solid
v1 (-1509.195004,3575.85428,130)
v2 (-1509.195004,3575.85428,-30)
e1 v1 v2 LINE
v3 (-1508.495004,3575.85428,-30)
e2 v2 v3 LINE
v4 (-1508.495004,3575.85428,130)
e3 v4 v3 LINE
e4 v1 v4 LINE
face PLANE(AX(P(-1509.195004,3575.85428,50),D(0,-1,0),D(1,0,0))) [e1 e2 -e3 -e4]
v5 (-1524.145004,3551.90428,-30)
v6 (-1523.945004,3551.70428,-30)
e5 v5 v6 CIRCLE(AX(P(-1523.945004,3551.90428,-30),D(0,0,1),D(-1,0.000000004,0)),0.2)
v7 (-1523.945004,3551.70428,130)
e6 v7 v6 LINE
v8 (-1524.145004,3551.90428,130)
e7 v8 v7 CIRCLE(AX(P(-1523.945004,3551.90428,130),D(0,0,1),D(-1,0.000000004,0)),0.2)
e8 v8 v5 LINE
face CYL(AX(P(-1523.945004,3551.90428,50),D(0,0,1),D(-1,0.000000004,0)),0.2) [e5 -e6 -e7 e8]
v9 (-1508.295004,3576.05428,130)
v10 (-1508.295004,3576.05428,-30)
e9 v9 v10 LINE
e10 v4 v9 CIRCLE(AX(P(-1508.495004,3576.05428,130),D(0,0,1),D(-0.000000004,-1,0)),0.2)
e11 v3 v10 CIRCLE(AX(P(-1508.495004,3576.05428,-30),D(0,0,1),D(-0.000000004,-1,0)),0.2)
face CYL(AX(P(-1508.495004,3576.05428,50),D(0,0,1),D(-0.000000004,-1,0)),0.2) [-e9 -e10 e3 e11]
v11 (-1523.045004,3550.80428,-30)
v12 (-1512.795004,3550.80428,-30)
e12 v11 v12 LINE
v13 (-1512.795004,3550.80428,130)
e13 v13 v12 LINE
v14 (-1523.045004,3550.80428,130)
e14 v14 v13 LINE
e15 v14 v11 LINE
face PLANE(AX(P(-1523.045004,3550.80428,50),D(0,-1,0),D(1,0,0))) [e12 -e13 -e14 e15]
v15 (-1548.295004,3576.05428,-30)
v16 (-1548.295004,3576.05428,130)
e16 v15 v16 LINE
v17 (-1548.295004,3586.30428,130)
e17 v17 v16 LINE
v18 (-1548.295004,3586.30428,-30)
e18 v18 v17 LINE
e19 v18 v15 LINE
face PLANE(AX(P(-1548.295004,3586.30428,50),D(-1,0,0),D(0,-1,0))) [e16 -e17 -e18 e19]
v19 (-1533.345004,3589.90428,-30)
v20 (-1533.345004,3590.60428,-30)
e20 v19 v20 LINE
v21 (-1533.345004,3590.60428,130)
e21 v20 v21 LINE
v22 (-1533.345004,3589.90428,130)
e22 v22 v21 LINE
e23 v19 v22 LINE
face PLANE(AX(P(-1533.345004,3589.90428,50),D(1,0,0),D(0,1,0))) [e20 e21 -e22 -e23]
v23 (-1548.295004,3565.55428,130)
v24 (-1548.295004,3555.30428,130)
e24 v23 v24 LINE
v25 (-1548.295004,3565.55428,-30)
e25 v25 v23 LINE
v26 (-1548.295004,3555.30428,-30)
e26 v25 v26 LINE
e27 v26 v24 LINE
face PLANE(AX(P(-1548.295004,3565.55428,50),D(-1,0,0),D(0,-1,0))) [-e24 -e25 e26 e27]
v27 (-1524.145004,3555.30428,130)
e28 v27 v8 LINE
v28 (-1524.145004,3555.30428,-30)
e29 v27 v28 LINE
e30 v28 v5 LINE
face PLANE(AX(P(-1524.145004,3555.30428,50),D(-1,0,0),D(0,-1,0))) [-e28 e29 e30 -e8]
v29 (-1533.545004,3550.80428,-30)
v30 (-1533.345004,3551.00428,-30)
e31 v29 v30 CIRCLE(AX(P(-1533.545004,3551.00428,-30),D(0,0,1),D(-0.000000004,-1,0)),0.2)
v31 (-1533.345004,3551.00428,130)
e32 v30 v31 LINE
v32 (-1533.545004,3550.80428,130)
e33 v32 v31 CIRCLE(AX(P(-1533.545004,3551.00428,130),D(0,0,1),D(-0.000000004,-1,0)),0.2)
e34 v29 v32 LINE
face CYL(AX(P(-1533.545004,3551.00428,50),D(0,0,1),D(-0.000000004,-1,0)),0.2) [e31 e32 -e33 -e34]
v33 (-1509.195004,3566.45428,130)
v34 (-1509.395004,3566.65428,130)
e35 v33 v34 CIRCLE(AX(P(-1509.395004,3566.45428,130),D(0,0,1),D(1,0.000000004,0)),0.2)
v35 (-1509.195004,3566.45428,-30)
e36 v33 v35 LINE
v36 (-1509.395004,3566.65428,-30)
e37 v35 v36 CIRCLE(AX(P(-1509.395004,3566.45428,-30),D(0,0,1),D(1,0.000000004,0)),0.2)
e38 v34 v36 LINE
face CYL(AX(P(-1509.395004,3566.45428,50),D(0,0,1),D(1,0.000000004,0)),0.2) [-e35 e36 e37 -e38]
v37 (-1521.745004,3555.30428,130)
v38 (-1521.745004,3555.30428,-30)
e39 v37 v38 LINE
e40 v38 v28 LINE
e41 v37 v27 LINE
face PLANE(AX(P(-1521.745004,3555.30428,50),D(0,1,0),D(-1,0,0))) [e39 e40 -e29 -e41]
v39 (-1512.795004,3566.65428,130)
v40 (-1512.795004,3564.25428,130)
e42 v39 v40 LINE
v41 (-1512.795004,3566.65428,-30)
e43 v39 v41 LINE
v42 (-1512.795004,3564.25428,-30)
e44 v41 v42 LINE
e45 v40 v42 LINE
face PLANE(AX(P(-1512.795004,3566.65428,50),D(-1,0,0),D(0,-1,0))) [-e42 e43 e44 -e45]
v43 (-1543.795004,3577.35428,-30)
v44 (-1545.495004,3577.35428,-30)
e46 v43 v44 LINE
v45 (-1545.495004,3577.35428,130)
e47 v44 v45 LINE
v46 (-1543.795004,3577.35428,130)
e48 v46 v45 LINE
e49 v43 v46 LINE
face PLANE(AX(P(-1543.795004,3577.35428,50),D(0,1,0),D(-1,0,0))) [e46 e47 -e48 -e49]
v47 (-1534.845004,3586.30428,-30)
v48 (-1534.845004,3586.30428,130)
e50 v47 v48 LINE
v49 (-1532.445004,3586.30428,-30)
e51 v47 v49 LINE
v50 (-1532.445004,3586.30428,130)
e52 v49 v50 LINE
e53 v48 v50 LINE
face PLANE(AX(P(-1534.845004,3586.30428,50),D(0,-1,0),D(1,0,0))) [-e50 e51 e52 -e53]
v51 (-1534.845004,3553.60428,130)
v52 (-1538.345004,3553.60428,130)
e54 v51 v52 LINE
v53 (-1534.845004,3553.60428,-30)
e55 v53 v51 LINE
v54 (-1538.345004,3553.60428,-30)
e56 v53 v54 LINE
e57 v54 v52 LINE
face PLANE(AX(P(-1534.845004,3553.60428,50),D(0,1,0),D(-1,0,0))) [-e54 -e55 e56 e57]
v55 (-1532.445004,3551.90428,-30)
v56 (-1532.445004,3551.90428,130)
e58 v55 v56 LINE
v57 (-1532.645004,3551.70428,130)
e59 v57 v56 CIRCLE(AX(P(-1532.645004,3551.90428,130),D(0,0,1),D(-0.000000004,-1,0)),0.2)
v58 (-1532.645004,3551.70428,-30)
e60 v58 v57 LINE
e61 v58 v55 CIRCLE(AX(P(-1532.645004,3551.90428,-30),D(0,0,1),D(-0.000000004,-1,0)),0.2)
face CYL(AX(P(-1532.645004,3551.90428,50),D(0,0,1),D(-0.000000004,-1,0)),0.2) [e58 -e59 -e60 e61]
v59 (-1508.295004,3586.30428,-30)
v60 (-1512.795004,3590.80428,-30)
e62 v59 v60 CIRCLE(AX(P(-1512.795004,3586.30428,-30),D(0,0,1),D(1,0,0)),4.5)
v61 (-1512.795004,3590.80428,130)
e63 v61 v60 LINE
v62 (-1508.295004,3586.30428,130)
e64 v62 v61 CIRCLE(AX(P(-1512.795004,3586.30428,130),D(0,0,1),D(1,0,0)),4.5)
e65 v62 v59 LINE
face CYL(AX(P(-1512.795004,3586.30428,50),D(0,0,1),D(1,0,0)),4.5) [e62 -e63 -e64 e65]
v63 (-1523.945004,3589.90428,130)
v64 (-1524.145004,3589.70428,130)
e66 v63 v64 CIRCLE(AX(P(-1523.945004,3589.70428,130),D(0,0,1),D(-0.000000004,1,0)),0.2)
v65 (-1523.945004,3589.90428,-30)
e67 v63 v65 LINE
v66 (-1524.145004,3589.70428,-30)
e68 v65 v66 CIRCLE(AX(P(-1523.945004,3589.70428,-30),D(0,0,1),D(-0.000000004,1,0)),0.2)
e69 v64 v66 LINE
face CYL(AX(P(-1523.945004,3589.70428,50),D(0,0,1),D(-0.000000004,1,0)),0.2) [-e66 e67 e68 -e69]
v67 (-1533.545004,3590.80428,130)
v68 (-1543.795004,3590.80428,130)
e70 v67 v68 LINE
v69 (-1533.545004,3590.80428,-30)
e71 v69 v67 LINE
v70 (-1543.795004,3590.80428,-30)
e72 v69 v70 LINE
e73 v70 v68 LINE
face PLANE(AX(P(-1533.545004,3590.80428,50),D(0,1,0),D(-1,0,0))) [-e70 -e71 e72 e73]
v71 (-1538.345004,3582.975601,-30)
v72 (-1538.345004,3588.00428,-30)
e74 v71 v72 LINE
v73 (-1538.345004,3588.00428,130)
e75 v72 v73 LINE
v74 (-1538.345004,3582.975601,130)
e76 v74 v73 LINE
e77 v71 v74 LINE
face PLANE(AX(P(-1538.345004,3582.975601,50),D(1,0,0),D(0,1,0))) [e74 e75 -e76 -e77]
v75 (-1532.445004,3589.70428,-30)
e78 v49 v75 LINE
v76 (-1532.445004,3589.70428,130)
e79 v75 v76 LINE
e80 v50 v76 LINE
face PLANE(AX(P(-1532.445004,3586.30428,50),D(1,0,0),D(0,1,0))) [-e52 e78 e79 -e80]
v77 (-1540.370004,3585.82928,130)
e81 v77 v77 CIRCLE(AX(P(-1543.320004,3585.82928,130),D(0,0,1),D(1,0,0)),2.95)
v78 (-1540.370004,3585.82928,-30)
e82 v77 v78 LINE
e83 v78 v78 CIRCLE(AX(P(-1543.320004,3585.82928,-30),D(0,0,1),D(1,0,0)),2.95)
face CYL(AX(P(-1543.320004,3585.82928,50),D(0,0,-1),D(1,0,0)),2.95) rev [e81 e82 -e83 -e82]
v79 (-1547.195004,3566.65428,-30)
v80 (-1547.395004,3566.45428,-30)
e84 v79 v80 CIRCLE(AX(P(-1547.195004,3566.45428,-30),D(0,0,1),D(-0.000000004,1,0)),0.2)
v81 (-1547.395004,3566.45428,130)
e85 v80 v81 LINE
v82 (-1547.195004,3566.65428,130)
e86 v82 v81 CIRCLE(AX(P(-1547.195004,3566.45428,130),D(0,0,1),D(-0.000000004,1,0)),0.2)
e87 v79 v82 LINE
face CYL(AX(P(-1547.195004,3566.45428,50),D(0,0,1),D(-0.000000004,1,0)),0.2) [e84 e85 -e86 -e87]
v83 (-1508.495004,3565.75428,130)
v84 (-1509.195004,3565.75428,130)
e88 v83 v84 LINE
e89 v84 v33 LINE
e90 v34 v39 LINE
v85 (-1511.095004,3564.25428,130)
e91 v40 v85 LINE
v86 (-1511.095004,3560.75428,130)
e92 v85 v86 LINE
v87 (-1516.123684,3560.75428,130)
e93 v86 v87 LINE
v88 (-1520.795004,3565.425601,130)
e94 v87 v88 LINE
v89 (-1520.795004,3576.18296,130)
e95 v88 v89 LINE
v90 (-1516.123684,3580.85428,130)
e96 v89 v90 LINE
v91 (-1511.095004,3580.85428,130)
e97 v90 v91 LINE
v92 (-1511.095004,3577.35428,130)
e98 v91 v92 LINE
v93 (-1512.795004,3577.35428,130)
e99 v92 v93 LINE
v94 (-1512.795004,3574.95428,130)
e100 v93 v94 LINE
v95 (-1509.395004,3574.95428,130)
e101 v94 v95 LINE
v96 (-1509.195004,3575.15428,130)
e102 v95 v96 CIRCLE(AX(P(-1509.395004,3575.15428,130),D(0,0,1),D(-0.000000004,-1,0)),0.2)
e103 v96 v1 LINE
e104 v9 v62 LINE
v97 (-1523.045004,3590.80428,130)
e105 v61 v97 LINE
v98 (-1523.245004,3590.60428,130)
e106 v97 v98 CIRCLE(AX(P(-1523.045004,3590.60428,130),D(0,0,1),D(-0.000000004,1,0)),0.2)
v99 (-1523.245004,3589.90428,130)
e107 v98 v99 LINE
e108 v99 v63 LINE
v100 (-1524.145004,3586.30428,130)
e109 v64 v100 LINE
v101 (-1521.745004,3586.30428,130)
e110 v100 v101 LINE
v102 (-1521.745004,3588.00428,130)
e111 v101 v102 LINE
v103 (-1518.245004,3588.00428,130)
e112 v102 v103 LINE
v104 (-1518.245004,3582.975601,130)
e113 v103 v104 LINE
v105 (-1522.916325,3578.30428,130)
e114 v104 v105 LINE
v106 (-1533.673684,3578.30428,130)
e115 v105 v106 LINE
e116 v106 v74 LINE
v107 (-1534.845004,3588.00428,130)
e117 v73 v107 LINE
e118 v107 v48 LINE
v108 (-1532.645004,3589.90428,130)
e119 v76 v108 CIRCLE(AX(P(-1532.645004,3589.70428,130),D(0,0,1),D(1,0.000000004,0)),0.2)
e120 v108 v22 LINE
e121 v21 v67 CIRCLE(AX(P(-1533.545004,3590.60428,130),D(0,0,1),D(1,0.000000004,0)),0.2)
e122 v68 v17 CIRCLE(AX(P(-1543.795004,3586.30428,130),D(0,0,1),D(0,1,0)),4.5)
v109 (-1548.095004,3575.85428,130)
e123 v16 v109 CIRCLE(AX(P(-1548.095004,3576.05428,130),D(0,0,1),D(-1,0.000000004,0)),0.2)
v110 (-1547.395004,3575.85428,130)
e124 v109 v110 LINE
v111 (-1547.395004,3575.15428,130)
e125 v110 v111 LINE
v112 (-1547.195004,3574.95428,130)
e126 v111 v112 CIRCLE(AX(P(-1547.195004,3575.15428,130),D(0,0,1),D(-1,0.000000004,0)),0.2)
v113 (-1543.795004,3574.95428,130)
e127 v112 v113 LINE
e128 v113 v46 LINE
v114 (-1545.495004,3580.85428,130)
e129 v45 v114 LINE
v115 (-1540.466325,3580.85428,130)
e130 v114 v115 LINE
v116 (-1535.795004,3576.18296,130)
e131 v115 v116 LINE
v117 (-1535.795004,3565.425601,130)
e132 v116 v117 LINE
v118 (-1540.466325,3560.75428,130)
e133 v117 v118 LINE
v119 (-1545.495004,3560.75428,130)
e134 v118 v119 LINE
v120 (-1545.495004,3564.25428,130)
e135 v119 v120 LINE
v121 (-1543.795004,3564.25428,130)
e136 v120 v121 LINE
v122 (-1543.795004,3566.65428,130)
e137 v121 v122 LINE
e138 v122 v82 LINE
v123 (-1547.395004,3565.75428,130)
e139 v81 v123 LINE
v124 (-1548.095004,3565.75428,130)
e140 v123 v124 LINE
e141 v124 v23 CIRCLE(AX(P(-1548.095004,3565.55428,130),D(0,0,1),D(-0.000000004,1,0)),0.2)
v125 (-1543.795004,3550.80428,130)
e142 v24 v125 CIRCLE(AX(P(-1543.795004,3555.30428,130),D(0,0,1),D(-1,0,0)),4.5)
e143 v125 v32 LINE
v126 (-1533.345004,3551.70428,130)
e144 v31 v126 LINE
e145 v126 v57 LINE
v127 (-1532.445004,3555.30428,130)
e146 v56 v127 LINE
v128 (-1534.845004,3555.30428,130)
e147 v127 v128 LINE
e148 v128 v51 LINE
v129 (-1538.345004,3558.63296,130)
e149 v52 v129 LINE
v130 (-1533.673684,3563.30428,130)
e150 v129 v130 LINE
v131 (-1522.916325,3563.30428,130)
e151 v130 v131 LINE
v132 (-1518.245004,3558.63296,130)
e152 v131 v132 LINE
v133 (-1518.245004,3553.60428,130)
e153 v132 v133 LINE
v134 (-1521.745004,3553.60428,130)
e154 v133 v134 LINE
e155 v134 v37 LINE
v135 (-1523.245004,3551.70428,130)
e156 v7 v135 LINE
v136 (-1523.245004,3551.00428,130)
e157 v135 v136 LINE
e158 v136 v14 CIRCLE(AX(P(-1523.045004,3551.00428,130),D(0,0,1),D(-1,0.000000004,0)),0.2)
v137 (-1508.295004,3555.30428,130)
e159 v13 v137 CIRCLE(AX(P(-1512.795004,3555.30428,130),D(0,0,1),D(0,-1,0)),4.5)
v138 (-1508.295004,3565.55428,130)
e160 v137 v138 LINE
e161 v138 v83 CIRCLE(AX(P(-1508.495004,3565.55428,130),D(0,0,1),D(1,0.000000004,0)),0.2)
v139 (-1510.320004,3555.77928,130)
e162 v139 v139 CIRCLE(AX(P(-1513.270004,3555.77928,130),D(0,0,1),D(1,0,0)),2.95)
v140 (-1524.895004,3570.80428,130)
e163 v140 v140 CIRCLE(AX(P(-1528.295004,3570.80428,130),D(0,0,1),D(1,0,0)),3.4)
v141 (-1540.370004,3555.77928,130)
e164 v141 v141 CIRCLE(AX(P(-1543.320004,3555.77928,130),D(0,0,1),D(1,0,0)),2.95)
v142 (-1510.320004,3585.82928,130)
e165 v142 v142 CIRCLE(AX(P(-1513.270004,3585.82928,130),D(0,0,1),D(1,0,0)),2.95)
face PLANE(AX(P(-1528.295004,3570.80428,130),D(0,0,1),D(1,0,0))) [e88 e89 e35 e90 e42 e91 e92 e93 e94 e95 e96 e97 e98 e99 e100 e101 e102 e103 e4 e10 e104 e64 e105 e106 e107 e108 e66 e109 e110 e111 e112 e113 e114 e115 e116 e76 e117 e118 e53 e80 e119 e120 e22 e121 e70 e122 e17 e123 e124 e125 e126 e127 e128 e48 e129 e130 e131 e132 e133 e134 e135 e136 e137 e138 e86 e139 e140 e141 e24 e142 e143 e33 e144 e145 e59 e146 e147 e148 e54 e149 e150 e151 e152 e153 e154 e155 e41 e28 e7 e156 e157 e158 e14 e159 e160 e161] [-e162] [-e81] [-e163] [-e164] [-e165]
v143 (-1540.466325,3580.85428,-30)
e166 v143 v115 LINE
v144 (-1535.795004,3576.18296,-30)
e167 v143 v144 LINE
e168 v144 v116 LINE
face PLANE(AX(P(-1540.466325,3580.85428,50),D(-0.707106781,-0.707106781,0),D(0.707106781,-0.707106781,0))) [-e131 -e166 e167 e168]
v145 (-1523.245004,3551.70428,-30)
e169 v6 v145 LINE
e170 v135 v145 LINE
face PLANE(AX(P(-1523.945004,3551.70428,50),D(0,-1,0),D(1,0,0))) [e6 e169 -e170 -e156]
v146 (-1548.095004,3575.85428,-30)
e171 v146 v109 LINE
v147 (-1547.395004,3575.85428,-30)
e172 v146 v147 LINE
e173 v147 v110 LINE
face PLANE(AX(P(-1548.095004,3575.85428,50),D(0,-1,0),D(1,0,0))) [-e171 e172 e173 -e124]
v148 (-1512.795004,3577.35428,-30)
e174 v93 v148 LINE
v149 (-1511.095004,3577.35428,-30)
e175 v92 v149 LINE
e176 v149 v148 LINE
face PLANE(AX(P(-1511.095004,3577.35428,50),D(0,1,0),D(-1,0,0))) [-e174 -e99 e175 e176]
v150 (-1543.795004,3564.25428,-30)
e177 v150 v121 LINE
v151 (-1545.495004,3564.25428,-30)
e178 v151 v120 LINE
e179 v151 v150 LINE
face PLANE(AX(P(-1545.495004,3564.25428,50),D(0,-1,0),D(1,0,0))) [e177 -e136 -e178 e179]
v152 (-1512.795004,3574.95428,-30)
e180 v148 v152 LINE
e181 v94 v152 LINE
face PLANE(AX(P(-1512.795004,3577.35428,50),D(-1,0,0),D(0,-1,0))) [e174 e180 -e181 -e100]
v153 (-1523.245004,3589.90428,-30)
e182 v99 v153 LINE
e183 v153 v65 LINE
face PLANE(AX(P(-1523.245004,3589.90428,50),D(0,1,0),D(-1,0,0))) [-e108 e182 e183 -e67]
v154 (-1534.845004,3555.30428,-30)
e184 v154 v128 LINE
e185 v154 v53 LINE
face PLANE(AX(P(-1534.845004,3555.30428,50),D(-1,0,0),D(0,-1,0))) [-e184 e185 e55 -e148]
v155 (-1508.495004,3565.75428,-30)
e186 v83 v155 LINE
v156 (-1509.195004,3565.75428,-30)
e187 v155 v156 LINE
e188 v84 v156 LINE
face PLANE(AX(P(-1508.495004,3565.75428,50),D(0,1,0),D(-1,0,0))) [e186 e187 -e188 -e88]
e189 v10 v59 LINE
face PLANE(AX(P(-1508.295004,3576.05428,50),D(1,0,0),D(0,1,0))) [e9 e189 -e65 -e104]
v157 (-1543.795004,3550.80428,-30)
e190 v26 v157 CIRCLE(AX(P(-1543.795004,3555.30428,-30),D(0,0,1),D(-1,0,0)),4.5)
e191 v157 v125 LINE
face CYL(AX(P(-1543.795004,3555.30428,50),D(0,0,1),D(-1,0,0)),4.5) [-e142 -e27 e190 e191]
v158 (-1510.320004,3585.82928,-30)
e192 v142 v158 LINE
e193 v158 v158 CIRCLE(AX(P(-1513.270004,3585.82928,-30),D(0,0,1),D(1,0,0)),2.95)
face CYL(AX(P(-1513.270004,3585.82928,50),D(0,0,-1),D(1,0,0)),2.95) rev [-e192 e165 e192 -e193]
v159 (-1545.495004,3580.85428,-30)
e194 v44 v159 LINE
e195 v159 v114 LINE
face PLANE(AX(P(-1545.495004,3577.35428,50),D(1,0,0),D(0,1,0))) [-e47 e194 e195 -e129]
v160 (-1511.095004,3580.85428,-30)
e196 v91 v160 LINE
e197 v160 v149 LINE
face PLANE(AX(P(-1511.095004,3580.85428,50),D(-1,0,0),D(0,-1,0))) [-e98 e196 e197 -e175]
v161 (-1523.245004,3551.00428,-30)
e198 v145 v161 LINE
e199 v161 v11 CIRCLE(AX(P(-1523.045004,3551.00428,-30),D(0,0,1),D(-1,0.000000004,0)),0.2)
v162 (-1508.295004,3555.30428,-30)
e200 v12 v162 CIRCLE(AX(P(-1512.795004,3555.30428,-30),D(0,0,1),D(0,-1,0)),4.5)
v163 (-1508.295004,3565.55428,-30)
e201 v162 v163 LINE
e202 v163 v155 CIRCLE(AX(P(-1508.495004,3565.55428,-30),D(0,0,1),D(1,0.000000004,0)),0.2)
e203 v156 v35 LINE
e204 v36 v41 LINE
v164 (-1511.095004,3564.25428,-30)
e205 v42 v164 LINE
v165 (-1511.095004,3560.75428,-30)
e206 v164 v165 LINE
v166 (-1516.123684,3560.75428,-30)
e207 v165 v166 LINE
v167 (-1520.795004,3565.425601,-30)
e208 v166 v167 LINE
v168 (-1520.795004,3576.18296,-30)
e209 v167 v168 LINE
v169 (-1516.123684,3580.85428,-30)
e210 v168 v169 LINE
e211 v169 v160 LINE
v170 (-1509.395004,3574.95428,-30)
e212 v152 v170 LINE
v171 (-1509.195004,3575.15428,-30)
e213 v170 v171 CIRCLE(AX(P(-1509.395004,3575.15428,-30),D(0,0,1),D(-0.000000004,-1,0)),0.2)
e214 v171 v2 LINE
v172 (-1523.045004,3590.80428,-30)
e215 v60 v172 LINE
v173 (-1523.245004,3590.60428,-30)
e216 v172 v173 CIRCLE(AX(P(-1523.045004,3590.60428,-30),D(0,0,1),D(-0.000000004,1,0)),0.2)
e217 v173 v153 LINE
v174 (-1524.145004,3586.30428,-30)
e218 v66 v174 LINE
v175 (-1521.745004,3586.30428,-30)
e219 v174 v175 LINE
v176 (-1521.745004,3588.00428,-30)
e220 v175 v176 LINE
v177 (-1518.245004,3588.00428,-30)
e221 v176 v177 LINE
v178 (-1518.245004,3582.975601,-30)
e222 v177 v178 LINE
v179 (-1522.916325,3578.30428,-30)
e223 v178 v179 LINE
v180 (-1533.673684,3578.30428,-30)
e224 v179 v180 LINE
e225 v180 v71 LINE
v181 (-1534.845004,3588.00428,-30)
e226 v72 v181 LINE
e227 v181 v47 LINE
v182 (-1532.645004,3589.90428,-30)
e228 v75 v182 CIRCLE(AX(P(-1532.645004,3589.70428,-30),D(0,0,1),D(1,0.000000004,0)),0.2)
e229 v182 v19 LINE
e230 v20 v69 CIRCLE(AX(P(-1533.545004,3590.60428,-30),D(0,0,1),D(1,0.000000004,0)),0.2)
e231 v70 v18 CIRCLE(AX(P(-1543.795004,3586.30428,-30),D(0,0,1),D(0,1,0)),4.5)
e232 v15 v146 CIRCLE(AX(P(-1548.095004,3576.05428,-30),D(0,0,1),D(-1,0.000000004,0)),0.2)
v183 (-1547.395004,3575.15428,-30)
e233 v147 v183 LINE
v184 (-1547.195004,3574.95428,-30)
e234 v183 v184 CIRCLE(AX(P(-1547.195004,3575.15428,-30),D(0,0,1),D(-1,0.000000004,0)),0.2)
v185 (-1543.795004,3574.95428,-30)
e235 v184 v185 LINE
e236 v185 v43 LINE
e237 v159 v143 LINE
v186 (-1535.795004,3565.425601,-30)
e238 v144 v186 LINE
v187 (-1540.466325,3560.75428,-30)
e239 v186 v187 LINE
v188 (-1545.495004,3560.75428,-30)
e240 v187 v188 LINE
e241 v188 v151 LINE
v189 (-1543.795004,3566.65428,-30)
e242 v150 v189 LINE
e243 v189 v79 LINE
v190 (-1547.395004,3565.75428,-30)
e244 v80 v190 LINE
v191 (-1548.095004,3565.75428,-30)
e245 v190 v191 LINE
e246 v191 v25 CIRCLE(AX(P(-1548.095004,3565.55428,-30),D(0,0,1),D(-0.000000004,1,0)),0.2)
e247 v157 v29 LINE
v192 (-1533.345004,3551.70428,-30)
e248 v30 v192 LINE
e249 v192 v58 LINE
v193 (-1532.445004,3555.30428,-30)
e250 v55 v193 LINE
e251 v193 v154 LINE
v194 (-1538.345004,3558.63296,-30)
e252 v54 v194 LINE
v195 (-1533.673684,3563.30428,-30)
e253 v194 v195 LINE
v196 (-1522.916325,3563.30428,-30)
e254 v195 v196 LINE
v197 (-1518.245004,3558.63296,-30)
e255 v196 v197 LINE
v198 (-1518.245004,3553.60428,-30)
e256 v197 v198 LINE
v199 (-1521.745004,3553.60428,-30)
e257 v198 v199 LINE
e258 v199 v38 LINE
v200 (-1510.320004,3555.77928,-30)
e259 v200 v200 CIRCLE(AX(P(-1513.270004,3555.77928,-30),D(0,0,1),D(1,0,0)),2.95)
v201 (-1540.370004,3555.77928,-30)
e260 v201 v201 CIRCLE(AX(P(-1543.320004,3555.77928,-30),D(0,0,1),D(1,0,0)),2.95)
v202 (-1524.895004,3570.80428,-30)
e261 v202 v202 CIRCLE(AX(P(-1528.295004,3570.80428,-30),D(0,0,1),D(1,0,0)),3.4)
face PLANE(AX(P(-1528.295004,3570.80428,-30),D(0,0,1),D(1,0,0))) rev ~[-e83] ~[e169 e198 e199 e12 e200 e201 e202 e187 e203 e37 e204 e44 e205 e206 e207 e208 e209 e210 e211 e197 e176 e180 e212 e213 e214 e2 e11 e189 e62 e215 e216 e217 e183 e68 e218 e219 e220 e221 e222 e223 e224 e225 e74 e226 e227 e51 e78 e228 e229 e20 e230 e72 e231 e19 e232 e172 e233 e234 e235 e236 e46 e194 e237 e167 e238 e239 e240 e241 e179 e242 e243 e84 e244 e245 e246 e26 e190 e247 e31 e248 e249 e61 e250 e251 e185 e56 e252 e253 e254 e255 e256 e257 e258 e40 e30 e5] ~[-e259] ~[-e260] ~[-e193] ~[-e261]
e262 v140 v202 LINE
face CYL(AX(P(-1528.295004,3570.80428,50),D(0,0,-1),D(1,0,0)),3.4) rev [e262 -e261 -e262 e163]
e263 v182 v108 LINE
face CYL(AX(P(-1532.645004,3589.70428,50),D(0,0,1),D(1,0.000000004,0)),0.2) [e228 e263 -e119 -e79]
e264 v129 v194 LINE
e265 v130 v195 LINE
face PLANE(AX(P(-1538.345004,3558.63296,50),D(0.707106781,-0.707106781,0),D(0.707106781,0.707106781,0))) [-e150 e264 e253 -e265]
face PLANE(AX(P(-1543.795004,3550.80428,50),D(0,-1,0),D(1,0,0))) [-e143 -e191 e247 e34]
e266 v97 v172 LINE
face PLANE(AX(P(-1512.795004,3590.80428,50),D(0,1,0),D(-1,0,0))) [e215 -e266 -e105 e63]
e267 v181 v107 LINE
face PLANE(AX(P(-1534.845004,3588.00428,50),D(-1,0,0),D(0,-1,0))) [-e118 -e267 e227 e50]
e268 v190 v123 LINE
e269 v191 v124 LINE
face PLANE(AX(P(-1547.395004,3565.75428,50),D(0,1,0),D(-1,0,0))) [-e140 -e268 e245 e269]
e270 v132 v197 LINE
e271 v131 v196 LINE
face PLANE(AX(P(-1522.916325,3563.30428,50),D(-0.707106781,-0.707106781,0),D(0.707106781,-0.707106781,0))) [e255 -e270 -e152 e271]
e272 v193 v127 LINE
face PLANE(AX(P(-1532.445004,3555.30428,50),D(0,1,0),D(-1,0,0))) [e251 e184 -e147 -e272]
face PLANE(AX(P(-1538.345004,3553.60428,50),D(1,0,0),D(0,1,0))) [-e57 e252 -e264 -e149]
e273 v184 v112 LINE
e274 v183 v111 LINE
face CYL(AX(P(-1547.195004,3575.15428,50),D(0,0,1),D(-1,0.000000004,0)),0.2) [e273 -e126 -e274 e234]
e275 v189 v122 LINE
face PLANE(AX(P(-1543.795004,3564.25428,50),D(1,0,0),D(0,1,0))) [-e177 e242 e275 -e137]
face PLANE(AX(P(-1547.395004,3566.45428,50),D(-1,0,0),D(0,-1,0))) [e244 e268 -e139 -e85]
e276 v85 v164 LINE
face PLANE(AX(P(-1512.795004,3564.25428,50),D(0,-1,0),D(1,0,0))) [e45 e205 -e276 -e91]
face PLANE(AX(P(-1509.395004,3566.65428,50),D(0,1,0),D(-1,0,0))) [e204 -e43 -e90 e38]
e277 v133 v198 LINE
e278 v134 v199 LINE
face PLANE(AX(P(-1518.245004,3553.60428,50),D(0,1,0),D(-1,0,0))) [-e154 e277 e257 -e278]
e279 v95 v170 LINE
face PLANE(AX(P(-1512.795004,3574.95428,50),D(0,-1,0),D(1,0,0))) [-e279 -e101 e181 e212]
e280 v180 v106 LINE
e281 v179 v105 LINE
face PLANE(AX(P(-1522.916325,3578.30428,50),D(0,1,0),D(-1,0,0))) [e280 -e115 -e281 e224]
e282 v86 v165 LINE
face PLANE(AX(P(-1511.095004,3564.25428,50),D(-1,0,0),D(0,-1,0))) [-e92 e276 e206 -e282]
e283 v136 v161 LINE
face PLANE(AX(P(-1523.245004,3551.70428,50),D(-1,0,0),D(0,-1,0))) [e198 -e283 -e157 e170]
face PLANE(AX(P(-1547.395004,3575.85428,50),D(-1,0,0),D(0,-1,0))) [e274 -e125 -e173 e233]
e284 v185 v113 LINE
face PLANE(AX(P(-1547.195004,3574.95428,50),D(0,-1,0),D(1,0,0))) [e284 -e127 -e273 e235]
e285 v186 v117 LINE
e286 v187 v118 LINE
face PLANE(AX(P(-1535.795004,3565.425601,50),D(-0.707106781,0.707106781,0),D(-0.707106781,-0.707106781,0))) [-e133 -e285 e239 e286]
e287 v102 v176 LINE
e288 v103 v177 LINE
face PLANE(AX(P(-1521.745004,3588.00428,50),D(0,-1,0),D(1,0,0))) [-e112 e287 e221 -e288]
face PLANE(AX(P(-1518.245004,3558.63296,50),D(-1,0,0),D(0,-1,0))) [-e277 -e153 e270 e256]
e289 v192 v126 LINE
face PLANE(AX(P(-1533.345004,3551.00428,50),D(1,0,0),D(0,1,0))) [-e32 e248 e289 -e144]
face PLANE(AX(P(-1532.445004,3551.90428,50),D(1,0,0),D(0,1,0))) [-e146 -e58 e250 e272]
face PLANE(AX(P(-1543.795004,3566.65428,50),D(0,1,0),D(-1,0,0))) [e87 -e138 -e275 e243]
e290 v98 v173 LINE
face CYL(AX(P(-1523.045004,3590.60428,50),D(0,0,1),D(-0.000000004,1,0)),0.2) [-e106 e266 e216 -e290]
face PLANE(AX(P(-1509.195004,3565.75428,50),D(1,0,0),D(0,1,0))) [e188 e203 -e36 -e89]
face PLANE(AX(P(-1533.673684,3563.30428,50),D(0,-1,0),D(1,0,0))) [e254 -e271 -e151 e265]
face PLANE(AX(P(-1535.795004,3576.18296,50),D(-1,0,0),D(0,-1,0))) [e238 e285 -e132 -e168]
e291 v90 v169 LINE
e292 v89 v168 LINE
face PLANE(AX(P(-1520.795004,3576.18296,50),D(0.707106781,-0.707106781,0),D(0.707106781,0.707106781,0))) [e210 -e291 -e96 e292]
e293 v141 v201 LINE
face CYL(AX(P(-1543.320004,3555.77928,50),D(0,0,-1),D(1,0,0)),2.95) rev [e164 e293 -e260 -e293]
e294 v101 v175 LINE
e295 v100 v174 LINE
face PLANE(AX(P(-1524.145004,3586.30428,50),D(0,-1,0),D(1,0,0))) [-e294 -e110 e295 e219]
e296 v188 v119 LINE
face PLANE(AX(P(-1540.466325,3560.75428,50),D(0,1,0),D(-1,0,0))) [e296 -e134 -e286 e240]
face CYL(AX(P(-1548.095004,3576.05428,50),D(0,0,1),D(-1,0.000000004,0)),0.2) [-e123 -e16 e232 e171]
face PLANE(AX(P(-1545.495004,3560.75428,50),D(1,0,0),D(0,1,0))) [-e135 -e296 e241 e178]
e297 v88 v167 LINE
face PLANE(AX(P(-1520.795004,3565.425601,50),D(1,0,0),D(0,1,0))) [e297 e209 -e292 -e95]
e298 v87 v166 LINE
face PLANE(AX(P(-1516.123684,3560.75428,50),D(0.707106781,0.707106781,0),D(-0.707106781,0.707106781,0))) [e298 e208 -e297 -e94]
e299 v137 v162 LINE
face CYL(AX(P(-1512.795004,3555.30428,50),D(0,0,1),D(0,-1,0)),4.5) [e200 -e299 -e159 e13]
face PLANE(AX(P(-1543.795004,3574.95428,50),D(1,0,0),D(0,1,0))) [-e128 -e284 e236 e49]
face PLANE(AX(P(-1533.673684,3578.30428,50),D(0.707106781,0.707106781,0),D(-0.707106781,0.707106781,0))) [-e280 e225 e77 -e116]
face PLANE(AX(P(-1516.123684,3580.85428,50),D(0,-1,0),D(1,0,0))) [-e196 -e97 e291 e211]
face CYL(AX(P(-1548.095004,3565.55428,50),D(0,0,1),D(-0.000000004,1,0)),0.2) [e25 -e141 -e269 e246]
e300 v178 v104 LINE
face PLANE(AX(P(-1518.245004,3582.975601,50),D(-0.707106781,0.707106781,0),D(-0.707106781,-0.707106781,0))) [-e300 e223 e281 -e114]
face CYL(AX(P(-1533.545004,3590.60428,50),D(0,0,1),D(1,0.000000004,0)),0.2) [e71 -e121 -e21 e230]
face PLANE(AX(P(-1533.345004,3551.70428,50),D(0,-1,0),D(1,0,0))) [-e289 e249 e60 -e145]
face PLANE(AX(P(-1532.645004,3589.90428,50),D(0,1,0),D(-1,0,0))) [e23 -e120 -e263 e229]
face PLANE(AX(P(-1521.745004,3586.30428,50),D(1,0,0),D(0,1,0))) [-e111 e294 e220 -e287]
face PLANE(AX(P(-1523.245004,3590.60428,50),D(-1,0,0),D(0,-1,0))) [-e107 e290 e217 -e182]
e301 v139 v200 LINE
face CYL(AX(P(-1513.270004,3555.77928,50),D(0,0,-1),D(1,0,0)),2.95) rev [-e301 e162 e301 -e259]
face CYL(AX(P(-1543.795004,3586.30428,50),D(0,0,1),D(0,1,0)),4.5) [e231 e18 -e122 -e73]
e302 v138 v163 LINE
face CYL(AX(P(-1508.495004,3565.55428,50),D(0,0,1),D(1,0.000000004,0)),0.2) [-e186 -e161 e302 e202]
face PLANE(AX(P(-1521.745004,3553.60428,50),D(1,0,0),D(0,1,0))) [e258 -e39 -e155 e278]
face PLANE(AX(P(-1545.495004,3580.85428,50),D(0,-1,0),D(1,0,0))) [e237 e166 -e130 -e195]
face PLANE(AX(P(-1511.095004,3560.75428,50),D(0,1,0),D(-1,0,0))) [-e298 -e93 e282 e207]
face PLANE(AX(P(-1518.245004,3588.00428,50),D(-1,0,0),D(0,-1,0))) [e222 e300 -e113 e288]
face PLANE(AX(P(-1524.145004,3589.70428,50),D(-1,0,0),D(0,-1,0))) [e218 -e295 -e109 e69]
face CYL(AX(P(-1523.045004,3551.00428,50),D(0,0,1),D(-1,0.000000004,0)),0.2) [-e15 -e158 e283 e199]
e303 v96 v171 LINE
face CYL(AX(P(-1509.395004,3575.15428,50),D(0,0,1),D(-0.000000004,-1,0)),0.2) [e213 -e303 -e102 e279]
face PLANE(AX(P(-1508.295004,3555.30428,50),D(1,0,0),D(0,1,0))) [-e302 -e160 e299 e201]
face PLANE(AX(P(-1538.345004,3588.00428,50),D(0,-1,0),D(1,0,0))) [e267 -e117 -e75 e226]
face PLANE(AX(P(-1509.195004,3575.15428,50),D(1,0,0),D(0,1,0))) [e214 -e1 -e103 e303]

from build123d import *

# Parameters (mm, degrees)
SKETCH_1_R      = 2.95
SKETCH_1_R_2    = 3.4
EXTRUDE_1_DEPTH = 80


with BuildPart() as part:
    # 草图1 → 凸台-拉伸1 (new body, symmetric)
    with BuildSketch(Plane.XY.offset(50)):
        with BuildLine():
            Line((-1518.245004392, 3588.004280474), (-1518.245004392, 3582.975600817))
            Line((-1518.245004392, 3582.975600817), (-1522.916324736, 3578.304280474))
            Line((-1522.916324736, 3578.304280474), (-1533.673684048, 3578.304280474))
            Line((-1533.673684048, 3578.304280474), (-1538.345004392, 3582.975600817))
            Line((-1538.345004392, 3582.975600817), (-1538.345004392, 3588.004280474))
            Line((-1538.345004392, 3588.004280474), (-1534.845004392, 3588.004280474))
            Line((-1534.845004392, 3588.004280474), (-1534.845004392, 3586.304280474))
            Line((-1534.845004392, 3586.304280474), (-1532.445004392, 3586.304280474))
            Line((-1532.445004392, 3586.304280474), (-1532.445004392, 3589.704280474))
            ThreePointArc((-1532.445004392, 3589.704280474), (-1532.503583036, 3589.84570183), (-1532.645004392, 3589.904280474))
            Line((-1532.645004392, 3589.904280474), (-1533.345004392, 3589.904280474))
            Line((-1533.345004392, 3589.904280474), (-1533.345004392, 3590.604280474))
            ThreePointArc((-1533.345004392, 3590.604280474), (-1533.403583036, 3590.74570183), (-1533.545004392, 3590.804280474))
            Line((-1533.545004392, 3590.804280474), (-1543.795004392, 3590.804280474))
            ThreePointArc((-1543.795004392, 3590.804280474), (-1546.976984907, 3589.486260989), (-1548.295004392, 3586.304280474))
            Line((-1548.295004392, 3586.304280474), (-1548.295004392, 3576.054280474))
            ThreePointArc((-1548.295004392, 3576.054280474), (-1548.236425748, 3575.912859117), (-1548.095004392, 3575.854280474))
            Line((-1548.095004392, 3575.854280474), (-1547.395004392, 3575.854280474))
            Line((-1547.395004392, 3575.854280474), (-1547.395004392, 3575.154280474))
            ThreePointArc((-1547.395004392, 3575.154280474), (-1547.336425748, 3575.012859117), (-1547.195004392, 3574.954280474))
            Line((-1547.195004392, 3574.954280474), (-1543.795004392, 3574.954280474))
            Line((-1543.795004392, 3574.954280474), (-1543.795004392, 3577.354280474))
            Line((-1543.795004392, 3577.354280474), (-1545.495004392, 3577.354280474))
            Line((-1545.495004392, 3577.354280474), (-1545.495004392, 3580.854280474))
            Line((-1545.495004392, 3580.854280474), (-1540.466324736, 3580.854280474))
            Line((-1540.466324736, 3580.854280474), (-1535.795004392, 3576.18296013))
            Line((-1535.795004392, 3576.18296013), (-1535.795004392, 3565.425600817))
            Line((-1535.795004392, 3565.425600817), (-1540.466324736, 3560.754280474))
            Line((-1540.466324736, 3560.754280474), (-1545.495004392, 3560.754280474))
            Line((-1545.495004392, 3560.754280474), (-1545.495004392, 3564.254280474))
            Line((-1545.495004392, 3564.254280474), (-1543.795004392, 3564.254280474))
            Line((-1543.795004392, 3564.254280474), (-1543.795004392, 3566.654280474))
            Line((-1543.795004392, 3566.654280474), (-1547.195004392, 3566.654280474))
            ThreePointArc((-1547.195004392, 3566.654280474), (-1547.336425748, 3566.59570183), (-1547.395004392, 3566.454280474))
            Line((-1547.395004392, 3566.454280474), (-1547.395004392, 3565.754280474))
            Line((-1547.395004392, 3565.754280474), (-1548.095004392, 3565.754280474))
            ThreePointArc((-1548.095004392, 3565.754280474), (-1548.236425748, 3565.69570183), (-1548.295004392, 3565.554280474))
            Line((-1548.295004392, 3565.554280474), (-1548.295004392, 3555.304280474))
            ThreePointArc((-1548.295004392, 3555.304280474), (-1546.976984907, 3552.122299958), (-1543.795004392, 3550.804280474))
            Line((-1543.795004392, 3550.804280474), (-1533.545004392, 3550.804280474))
            ThreePointArc((-1533.545004392, 3550.804280474), (-1533.403583036, 3550.862859117), (-1533.345004392, 3551.004280474))
            Line((-1533.345004392, 3551.004280474), (-1533.345004392, 3551.704280474))
            Line((-1533.345004392, 3551.704280474), (-1532.645004392, 3551.704280474))
            ThreePointArc((-1532.645004392, 3551.704280474), (-1532.503583036, 3551.762859117), (-1532.445004392, 3551.904280474))
            Line((-1532.445004392, 3551.904280474), (-1532.445004392, 3555.304280474))
            Line((-1532.445004392, 3555.304280474), (-1534.845004392, 3555.304280474))
            Line((-1534.845004392, 3555.304280474), (-1534.845004392, 3553.604280474))
            Line((-1534.845004392, 3553.604280474), (-1538.345004392, 3553.604280474))
            Line((-1538.345004392, 3553.604280474), (-1538.345004392, 3558.63296013))
            Line((-1538.345004392, 3558.63296013), (-1533.673684048, 3563.304280474))
            Line((-1533.673684048, 3563.304280474), (-1522.916324736, 3563.304280474))
            Line((-1522.916324736, 3563.304280474), (-1518.245004392, 3558.63296013))
            Line((-1518.245004392, 3558.63296013), (-1518.245004392, 3553.604280474))
            Line((-1518.245004392, 3553.604280474), (-1521.745004392, 3553.604280474))
            Line((-1521.745004392, 3553.604280474), (-1521.745004392, 3555.304280474))
            Line((-1521.745004392, 3555.304280474), (-1524.145004392, 3555.304280474))
            Line((-1524.145004392, 3555.304280474), (-1524.145004392, 3551.904280474))
            ThreePointArc((-1524.145004392, 3551.904280474), (-1524.086425748, 3551.762859117), (-1523.945004392, 3551.704280474))
            Line((-1523.945004392, 3551.704280474), (-1523.245004392, 3551.704280474))
            Line((-1523.245004392, 3551.704280474), (-1523.245004392, 3551.004280474))
            ThreePointArc((-1523.245004392, 3551.004280474), (-1523.186425748, 3550.862859117), (-1523.045004392, 3550.804280474))
            Line((-1523.045004392, 3550.804280474), (-1512.795004392, 3550.804280474))
            ThreePointArc((-1512.795004392, 3550.804280474), (-1509.613023877, 3552.122299958), (-1508.295004392, 3555.304280474))
            Line((-1508.295004392, 3555.304280474), (-1508.295004392, 3565.554280474))
            ThreePointArc((-1508.295004392, 3565.554280474), (-1508.353583036, 3565.69570183), (-1508.495004392, 3565.754280474))
            Line((-1508.495004392, 3565.754280474), (-1509.195004392, 3565.754280474))
            Line((-1509.195004392, 3565.754280474), (-1509.195004392, 3566.454280474))
            ThreePointArc((-1509.195004392, 3566.454280474), (-1509.253583036, 3566.59570183), (-1509.395004392, 3566.654280474))
            Line((-1509.395004392, 3566.654280474), (-1512.795004392, 3566.654280474))
            Line((-1512.795004392, 3566.654280474), (-1512.795004392, 3564.254280474))
            Line((-1512.795004392, 3564.254280474), (-1511.095004392, 3564.254280474))
            Line((-1511.095004392, 3564.254280474), (-1511.095004392, 3560.754280474))
            Line((-1511.095004392, 3560.754280474), (-1516.123684048, 3560.754280474))
            Line((-1516.123684048, 3560.754280474), (-1520.795004392, 3565.425600817))
            Line((-1520.795004392, 3565.425600817), (-1520.795004392, 3576.18296013))
            Line((-1520.795004392, 3576.18296013), (-1516.123684048, 3580.854280474))
            Line((-1516.123684048, 3580.854280474), (-1511.095004392, 3580.854280474))
            Line((-1511.095004392, 3580.854280474), (-1511.095004392, 3577.354280474))
            Line((-1511.095004392, 3577.354280474), (-1512.795004392, 3577.354280474))
            Line((-1512.795004392, 3577.354280474), (-1512.795004392, 3574.954280474))
            Line((-1512.795004392, 3574.954280474), (-1509.395004392, 3574.954280474))
            ThreePointArc((-1509.395004392, 3574.954280474), (-1509.253583036, 3575.012859117), (-1509.195004392, 3575.154280474))
            Line((-1509.195004392, 3575.154280474), (-1509.195004392, 3575.854280474))
            Line((-1509.195004392, 3575.854280474), (-1508.495004392, 3575.854280474))
            ThreePointArc((-1508.495004392, 3575.854280474), (-1508.353583036, 3575.912859117), (-1508.295004392, 3576.054280474))
            Line((-1508.295004392, 3576.054280474), (-1508.295004392, 3586.304280474))
            ThreePointArc((-1508.295004392, 3586.304280474), (-1509.613023877, 3589.486260989), (-1512.795004392, 3590.804280474))
            Line((-1512.795004392, 3590.804280474), (-1523.045004392, 3590.804280474))
            ThreePointArc((-1523.045004392, 3590.804280474), (-1523.186425748, 3590.74570183), (-1523.245004392, 3590.604280474))
            Line((-1523.245004392, 3590.604280474), (-1523.245004392, 3589.904280474))
            Line((-1523.245004392, 3589.904280474), (-1523.945004392, 3589.904280474))
            ThreePointArc((-1523.945004392, 3589.904280474), (-1524.086425748, 3589.84570183), (-1524.145004392, 3589.704280474))
            Line((-1524.145004392, 3589.704280474), (-1524.145004392, 3586.304280474))
            Line((-1524.145004392, 3586.304280474), (-1521.745004392, 3586.304280474))
            Line((-1521.745004392, 3586.304280474), (-1521.745004392, 3588.004280474))
            Line((-1521.745004392, 3588.004280474), (-1518.245004392, 3588.004280474))
        make_face()
        with Locations((-1513.270004392, 3555.779280474)):
            Circle(SKETCH_1_R, mode=Mode.SUBTRACT)
        with Locations((-1528.295004392, 3570.804280474)):
            Circle(SKETCH_1_R_2, mode=Mode.SUBTRACT)
        with Locations((-1513.270004392, 3585.829280474)):
            Circle(SKETCH_1_R, mode=Mode.SUBTRACT)
        with Locations((-1543.320004392, 3585.829280474)):
            Circle(SKETCH_1_R, mode=Mode.SUBTRACT)
        with Locations((-1543.320004392, 3555.779280474)):
            Circle(SKETCH_1_R, mode=Mode.SUBTRACT)
    extrude(amount=EXTRUDE_1_DEPTH, both=True)


solid = part.part
